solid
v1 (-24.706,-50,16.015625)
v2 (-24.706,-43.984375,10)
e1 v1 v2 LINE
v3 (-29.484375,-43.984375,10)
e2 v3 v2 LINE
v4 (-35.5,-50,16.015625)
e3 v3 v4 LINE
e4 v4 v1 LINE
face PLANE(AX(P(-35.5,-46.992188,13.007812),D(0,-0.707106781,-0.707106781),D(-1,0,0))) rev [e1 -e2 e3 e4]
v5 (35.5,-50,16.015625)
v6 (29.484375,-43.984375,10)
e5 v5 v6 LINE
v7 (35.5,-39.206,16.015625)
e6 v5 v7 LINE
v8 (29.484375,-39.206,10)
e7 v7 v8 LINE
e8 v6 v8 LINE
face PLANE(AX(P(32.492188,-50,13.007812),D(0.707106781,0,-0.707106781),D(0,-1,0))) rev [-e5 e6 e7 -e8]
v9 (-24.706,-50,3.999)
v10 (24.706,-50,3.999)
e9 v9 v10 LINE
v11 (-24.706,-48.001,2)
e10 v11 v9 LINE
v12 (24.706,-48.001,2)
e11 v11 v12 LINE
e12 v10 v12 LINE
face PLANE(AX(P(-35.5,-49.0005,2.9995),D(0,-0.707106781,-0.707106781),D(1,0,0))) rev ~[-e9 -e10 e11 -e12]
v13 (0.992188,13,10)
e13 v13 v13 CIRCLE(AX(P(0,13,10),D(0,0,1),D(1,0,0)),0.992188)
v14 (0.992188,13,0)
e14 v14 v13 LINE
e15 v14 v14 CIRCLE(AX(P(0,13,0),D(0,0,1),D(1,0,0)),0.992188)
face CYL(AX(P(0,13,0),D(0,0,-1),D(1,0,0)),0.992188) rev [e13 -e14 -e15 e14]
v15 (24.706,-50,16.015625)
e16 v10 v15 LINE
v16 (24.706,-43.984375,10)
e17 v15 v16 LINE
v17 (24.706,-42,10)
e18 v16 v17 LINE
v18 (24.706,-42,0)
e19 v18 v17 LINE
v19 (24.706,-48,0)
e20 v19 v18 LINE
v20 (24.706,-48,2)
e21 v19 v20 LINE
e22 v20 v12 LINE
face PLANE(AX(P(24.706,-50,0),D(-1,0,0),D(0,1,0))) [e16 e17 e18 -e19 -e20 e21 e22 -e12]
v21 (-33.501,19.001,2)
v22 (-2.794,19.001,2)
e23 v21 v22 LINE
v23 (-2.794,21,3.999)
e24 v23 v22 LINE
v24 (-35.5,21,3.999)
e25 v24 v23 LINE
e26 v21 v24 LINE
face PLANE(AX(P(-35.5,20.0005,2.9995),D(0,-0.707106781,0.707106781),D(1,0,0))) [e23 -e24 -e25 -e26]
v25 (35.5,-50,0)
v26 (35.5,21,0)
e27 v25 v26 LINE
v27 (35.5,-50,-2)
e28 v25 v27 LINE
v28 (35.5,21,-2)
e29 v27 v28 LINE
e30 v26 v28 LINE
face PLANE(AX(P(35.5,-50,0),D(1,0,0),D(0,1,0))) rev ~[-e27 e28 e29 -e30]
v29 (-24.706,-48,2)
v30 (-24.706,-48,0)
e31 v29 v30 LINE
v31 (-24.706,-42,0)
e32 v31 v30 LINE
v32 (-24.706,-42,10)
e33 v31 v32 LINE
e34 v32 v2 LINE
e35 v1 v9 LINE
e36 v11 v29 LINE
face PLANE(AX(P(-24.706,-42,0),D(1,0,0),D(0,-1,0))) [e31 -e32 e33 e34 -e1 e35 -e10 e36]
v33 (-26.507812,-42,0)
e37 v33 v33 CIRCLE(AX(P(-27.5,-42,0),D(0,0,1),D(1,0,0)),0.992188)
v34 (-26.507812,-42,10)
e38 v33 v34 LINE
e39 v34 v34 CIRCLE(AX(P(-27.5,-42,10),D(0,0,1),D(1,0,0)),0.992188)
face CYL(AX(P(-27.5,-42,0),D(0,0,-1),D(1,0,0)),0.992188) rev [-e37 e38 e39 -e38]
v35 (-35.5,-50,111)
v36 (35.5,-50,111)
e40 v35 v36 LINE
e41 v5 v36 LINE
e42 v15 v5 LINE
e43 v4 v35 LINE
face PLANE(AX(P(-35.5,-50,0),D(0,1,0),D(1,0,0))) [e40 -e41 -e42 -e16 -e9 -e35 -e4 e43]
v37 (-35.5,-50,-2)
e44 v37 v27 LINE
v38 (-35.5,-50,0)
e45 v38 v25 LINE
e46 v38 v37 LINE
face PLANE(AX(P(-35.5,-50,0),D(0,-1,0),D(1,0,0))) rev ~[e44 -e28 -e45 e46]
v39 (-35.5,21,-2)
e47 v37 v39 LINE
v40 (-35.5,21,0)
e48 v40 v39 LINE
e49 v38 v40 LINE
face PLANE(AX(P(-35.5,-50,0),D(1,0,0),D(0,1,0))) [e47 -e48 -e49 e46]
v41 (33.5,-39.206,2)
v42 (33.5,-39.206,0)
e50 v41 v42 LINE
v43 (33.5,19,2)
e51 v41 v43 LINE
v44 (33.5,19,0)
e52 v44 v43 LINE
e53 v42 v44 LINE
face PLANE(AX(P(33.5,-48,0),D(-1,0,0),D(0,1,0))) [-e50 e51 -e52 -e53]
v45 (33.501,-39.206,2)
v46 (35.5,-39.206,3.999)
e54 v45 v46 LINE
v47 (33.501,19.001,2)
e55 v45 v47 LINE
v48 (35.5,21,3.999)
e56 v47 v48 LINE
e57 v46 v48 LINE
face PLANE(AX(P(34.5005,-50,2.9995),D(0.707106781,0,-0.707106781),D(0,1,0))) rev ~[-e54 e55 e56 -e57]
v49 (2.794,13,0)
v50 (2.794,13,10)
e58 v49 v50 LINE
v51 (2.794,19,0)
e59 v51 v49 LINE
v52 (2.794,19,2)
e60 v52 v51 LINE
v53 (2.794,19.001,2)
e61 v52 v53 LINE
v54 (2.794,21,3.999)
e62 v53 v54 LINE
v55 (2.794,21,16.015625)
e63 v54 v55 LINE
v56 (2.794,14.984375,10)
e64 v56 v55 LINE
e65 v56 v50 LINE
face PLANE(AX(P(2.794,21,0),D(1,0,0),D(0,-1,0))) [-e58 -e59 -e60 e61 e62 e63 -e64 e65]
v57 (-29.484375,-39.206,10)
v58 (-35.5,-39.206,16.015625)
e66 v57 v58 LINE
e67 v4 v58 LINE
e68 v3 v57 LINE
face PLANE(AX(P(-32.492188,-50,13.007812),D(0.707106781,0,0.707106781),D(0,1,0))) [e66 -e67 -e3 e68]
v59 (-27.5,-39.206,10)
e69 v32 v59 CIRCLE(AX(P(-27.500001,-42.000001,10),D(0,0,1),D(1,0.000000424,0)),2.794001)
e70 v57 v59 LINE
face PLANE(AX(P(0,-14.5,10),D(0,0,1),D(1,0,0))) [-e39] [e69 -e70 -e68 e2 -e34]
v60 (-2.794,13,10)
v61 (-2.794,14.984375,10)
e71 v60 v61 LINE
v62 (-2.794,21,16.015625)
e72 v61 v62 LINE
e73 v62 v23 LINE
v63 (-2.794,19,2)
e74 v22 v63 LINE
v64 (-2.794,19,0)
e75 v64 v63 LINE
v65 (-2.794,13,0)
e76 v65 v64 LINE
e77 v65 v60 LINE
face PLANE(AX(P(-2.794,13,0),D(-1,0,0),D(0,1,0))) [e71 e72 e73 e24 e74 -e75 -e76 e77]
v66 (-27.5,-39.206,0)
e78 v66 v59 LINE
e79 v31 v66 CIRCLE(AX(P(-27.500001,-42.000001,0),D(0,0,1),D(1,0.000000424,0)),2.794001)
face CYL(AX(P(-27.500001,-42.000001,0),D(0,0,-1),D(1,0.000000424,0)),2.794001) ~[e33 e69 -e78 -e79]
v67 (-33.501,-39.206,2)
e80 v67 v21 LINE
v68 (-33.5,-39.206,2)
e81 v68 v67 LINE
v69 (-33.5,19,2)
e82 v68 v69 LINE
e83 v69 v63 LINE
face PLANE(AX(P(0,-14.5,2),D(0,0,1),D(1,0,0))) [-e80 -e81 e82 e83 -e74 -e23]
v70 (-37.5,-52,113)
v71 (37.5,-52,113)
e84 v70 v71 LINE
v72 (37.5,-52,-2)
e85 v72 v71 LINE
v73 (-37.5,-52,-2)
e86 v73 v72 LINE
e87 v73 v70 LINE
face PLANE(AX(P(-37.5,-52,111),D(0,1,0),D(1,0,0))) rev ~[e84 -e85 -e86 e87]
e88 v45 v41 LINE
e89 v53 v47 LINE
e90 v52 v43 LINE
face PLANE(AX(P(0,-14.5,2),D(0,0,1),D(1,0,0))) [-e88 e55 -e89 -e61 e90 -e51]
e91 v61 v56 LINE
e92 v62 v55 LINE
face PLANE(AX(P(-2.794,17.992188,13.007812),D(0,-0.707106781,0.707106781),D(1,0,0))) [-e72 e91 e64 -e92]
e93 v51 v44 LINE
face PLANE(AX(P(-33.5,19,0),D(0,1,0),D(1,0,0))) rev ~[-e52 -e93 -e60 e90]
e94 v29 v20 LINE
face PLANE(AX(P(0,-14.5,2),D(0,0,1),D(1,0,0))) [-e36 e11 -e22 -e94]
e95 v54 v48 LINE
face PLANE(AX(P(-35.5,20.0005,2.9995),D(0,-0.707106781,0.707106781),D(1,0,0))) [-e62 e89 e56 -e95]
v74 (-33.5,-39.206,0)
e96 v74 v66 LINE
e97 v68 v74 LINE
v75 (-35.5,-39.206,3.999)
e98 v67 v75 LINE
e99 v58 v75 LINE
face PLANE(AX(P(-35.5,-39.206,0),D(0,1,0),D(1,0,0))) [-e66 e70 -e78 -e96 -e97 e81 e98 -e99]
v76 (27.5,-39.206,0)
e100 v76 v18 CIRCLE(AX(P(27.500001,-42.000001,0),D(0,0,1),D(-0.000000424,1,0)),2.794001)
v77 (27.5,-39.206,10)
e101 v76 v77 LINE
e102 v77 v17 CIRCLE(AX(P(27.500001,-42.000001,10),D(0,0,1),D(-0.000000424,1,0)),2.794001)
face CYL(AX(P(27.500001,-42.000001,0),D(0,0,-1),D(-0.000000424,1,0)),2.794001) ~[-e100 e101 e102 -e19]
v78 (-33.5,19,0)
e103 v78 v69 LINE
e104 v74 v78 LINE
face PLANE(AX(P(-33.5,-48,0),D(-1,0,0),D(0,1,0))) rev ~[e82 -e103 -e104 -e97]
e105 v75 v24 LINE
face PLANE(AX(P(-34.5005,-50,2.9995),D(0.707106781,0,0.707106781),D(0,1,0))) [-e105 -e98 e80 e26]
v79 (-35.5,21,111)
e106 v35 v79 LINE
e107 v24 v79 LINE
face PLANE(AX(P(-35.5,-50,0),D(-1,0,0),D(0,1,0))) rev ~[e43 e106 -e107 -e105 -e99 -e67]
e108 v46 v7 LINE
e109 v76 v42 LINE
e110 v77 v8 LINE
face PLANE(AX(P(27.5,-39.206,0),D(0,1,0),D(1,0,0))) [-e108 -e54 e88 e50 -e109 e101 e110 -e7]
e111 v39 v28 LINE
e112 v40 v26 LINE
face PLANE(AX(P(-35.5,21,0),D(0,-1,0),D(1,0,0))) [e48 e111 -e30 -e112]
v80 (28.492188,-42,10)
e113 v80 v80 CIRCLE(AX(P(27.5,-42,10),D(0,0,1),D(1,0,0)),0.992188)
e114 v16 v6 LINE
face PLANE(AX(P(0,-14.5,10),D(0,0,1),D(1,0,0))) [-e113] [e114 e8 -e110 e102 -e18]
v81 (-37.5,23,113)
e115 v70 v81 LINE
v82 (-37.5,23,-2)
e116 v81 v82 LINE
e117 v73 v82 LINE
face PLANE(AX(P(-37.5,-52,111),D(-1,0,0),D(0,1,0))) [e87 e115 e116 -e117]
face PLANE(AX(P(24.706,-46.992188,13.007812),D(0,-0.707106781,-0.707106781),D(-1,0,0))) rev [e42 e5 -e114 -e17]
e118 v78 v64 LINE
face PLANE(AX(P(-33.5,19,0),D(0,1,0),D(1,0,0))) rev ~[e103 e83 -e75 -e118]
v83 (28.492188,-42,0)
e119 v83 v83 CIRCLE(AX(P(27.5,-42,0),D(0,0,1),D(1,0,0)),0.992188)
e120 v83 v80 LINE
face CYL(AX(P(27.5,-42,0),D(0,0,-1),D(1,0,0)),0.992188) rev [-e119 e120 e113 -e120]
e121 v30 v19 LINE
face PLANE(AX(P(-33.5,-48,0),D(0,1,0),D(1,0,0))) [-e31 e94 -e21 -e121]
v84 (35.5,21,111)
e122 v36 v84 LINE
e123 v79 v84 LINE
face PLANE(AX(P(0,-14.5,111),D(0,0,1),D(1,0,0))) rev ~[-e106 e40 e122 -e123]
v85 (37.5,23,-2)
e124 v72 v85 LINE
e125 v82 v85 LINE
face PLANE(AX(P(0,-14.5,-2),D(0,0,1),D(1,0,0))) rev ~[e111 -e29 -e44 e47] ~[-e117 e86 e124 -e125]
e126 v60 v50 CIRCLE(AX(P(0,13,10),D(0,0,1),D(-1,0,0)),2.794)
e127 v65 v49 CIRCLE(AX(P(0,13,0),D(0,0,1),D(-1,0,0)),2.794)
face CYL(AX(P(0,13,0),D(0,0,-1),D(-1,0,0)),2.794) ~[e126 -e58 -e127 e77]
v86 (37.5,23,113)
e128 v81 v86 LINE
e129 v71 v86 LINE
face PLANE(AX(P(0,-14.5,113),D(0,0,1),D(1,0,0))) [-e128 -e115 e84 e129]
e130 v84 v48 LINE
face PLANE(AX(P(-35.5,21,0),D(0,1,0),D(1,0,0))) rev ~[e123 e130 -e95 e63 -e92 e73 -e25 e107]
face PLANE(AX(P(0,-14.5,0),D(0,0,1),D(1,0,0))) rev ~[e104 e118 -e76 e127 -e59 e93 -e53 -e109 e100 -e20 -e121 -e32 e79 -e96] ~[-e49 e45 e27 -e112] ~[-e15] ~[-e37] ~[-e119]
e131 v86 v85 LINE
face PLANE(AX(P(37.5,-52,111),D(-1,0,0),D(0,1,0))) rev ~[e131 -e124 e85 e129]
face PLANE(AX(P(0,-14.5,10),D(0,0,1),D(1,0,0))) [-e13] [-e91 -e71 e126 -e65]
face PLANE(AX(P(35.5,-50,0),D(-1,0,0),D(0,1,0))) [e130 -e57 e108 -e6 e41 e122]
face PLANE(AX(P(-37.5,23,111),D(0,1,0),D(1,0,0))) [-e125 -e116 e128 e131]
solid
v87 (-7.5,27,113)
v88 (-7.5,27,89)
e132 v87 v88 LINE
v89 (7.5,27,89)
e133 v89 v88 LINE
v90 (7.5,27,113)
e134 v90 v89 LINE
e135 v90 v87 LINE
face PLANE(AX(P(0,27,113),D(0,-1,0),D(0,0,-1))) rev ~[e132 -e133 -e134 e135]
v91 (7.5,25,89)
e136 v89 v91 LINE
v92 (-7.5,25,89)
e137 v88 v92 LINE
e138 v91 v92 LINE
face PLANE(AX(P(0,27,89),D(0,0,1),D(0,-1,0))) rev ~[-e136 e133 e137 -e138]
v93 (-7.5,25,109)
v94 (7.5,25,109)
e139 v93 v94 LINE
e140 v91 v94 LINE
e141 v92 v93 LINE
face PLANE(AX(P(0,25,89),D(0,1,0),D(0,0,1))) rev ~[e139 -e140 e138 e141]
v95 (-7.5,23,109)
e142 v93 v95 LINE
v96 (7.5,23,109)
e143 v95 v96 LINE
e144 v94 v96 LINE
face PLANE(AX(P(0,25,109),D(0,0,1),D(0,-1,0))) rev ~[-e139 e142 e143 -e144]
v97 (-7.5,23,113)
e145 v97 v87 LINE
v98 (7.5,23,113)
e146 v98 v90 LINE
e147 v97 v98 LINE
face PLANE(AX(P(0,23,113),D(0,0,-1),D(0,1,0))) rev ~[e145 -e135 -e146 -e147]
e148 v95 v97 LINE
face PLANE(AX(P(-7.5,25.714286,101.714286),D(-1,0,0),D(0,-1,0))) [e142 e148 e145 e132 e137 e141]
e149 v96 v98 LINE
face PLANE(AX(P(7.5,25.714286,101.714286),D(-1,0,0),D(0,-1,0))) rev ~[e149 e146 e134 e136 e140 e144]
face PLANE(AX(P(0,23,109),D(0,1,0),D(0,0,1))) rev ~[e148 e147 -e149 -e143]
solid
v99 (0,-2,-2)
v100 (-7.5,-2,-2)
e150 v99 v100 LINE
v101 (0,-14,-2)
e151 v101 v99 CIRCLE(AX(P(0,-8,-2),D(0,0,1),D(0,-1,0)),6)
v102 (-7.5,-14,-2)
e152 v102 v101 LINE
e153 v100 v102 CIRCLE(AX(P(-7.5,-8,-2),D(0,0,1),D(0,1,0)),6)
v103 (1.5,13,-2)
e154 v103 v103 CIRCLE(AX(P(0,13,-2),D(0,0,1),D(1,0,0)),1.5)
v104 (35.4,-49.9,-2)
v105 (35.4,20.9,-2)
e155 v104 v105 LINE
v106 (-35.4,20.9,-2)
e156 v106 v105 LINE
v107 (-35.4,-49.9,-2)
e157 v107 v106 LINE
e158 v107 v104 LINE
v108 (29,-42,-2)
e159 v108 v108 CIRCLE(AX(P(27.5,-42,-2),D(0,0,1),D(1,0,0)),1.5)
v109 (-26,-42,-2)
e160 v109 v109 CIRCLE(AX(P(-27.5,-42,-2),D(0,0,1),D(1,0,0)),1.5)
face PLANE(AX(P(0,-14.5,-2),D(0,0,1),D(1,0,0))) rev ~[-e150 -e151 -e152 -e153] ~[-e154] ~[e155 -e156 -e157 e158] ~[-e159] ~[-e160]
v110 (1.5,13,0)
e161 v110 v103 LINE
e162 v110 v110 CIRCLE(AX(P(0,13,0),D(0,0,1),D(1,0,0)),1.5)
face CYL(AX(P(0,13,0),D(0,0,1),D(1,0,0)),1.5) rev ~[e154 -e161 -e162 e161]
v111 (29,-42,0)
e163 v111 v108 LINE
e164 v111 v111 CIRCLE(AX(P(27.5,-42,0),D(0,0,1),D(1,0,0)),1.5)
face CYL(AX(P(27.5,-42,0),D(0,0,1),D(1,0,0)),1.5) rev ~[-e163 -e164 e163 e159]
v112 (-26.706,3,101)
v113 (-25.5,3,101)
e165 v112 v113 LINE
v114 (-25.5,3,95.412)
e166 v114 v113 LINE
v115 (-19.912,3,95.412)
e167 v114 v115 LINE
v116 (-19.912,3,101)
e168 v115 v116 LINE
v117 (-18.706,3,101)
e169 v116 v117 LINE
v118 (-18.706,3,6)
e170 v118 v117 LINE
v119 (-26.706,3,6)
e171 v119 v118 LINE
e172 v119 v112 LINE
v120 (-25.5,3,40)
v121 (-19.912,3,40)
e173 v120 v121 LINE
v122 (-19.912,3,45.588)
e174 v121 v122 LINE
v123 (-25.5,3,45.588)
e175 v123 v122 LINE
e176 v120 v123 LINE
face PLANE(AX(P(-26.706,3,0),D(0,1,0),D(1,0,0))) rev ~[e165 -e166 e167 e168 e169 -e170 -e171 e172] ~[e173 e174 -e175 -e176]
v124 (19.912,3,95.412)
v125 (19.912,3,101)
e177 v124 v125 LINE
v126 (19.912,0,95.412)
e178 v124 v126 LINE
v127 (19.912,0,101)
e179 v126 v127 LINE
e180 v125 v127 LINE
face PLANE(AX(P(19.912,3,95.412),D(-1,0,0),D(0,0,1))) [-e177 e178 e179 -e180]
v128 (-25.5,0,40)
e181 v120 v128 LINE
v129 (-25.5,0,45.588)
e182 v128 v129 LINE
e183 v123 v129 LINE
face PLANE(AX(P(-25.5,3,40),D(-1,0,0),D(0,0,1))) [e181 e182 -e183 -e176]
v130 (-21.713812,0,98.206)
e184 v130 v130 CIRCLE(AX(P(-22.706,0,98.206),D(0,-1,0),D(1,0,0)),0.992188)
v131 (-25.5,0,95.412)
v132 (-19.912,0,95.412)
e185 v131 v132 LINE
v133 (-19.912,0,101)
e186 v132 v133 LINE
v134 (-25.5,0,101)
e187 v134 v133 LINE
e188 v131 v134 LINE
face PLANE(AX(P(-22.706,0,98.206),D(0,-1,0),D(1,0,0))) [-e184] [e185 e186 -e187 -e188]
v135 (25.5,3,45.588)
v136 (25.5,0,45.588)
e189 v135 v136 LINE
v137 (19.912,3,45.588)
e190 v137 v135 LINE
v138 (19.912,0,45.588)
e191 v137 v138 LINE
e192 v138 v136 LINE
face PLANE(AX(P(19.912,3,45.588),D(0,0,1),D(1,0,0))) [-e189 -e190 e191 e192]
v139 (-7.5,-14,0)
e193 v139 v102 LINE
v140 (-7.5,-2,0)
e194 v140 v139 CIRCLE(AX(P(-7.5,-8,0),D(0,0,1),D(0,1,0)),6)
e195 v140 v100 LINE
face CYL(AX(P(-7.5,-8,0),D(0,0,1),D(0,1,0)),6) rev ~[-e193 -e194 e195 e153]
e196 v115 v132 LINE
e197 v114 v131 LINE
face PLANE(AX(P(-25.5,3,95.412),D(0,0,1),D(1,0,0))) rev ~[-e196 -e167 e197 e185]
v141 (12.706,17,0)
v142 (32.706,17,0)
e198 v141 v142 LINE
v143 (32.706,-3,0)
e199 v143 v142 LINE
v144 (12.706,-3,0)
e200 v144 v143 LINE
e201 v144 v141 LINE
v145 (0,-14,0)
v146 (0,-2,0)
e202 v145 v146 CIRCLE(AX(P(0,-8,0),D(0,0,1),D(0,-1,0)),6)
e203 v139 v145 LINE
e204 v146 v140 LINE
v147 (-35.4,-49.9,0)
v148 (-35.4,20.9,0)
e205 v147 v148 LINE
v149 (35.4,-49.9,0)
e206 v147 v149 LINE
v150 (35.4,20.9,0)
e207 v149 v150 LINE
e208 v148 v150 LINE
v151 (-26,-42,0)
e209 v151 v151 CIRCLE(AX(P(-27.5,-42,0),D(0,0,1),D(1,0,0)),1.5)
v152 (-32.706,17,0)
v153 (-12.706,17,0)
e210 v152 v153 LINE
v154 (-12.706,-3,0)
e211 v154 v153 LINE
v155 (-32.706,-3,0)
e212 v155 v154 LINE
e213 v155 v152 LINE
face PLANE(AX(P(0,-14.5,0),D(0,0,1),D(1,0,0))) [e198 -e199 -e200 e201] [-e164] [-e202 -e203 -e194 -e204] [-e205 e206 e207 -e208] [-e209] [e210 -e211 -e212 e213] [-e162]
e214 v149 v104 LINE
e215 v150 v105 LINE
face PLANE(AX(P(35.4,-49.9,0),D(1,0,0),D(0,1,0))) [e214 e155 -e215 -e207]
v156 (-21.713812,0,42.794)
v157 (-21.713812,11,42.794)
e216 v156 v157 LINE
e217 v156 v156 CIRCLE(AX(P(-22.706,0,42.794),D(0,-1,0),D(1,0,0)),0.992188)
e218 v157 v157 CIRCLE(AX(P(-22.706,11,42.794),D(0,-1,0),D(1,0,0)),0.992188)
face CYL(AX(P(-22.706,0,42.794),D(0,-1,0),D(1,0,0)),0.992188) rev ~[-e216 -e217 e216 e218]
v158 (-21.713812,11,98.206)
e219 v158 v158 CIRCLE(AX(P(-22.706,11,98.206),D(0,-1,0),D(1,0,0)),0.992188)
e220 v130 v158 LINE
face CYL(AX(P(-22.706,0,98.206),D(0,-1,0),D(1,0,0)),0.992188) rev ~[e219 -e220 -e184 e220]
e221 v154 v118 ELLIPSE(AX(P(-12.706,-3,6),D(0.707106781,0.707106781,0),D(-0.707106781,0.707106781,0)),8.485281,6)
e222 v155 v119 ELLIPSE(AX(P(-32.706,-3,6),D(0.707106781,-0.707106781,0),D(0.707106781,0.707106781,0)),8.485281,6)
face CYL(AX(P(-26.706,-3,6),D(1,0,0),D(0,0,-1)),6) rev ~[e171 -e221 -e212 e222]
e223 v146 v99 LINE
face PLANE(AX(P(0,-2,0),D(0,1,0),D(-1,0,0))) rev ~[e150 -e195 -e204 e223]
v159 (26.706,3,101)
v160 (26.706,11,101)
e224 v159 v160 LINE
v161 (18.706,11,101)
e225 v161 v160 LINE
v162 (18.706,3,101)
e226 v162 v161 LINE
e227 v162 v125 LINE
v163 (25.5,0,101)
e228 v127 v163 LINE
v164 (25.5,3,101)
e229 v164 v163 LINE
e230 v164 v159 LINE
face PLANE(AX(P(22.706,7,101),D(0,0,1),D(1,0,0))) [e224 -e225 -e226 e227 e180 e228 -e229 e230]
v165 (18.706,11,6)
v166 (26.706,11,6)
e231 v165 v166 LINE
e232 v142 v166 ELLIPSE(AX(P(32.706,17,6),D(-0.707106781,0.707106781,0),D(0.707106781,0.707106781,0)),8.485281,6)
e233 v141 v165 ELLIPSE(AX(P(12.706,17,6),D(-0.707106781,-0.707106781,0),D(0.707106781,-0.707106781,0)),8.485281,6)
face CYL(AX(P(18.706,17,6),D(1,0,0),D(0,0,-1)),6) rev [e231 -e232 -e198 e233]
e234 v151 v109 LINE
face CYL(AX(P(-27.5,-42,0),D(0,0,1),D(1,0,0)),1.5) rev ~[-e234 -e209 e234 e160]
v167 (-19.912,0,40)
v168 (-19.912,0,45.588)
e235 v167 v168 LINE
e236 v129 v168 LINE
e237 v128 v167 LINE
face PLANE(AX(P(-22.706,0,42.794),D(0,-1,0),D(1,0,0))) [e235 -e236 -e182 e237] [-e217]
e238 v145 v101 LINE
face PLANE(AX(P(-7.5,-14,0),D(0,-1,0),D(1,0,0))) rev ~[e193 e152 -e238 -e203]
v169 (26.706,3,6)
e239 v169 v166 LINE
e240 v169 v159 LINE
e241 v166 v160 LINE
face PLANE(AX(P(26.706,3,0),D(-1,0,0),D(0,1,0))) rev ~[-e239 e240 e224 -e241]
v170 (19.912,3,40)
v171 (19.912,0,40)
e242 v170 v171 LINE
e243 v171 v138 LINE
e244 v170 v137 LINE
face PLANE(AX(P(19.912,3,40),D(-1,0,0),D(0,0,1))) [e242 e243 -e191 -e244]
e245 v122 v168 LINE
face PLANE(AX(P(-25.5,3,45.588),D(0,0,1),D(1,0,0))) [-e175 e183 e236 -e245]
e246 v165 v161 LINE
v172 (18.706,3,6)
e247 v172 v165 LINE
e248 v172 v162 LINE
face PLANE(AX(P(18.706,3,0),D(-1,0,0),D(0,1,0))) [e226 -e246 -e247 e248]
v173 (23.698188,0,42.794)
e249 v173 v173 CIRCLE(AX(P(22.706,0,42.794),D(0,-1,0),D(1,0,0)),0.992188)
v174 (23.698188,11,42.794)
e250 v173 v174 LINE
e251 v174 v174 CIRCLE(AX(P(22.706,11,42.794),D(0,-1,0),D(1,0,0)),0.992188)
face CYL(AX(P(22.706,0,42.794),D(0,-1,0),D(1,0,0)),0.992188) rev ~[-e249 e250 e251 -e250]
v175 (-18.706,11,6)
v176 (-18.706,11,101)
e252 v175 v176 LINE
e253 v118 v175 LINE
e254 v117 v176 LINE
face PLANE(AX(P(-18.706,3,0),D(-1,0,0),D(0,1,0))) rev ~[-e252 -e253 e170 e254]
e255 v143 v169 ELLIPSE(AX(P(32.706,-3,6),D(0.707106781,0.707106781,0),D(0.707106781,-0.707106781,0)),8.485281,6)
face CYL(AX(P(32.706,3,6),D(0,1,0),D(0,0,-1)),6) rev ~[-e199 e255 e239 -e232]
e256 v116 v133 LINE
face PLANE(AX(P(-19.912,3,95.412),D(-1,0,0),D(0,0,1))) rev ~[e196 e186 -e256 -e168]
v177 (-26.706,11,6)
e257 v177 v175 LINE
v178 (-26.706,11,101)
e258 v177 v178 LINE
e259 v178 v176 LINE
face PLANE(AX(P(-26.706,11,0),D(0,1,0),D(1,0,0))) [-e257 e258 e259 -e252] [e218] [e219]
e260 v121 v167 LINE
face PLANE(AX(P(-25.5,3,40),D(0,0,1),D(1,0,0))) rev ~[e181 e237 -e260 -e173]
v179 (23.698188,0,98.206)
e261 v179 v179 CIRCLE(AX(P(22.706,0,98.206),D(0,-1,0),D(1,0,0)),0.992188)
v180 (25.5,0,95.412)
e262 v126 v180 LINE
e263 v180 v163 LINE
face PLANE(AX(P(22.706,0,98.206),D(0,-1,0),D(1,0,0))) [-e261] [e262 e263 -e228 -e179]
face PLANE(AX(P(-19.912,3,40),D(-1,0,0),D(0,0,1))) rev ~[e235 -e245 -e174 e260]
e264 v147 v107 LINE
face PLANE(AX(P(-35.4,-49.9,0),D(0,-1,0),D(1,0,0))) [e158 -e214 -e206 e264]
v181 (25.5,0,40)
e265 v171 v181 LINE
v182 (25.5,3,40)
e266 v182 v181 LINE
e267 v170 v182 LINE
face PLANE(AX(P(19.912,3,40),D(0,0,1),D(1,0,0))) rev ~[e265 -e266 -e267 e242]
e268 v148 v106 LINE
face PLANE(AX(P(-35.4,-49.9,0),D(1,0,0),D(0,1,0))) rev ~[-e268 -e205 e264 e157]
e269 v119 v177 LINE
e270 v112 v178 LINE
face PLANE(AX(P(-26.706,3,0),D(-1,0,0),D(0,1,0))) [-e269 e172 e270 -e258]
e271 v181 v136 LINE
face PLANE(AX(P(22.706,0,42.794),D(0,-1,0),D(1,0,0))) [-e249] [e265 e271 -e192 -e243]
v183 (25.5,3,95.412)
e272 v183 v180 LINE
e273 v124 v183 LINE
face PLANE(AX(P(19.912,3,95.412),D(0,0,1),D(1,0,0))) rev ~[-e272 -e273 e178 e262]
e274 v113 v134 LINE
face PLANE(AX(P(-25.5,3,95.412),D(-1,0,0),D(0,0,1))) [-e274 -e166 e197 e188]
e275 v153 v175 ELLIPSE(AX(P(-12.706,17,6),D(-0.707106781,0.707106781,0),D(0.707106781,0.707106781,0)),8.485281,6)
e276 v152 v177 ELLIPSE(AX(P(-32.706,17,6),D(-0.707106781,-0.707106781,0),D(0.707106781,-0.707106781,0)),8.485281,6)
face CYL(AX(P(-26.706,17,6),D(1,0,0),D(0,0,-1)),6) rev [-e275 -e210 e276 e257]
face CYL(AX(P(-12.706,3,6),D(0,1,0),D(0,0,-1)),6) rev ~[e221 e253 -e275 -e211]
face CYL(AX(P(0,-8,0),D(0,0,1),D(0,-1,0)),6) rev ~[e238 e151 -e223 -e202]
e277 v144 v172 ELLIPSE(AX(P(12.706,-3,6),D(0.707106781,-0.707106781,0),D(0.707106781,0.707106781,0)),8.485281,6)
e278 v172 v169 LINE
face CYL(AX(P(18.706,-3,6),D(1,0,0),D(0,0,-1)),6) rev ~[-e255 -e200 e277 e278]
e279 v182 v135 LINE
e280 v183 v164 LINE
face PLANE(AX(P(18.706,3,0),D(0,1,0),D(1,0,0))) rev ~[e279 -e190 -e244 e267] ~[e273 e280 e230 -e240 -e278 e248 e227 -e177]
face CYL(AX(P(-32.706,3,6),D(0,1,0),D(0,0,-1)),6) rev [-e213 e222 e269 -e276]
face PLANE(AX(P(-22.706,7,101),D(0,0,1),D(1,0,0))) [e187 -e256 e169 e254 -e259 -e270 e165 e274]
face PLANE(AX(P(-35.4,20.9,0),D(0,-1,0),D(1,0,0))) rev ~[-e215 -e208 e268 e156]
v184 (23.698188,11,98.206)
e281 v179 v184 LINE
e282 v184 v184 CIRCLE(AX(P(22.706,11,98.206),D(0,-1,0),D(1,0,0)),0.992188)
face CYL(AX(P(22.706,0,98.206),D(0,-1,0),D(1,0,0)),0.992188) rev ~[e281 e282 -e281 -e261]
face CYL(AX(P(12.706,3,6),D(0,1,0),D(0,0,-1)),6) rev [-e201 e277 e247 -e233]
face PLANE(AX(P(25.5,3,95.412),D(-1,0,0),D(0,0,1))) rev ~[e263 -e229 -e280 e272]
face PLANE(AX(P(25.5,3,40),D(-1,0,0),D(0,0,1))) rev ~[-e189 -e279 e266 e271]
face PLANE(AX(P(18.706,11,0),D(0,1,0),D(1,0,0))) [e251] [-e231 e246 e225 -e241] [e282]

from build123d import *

# Parameters (mm, degrees)
SKETCH_W        = 70.8
SKETCH_H        = 70.8
PAD_DEPTH       = 2
POCKET_DEPTH    = 2
SKETCH002_W     = 8
SKETCH002_H     = 8
PAD001_DEPTH    = 101
SKETCH003_W     = 5.588
SKETCH003_H     = 5.588
PAD002_DEPTH    = 3
SKETCH004_R     = 0.992188
POCKET001_DEPTH = 20.901
FILLET_R        = 6
SKETCH005_R     = 1.5
POCKET002_DEPTH = 2
SKETCH006_W     = 75
SKETCH006_H     = 75
SKETCH006_W_2   = 71
SKETCH006_H_2   = 71
PAD003_DEPTH    = 111
SKETCH008_W     = 71
SKETCH008_H     = 71
SKETCH008_W_2   = 67
SKETCH008_H_2   = 67
PAD005_DEPTH    = 2
CHAMFER_SIZE    = 1.999
SKETCH009_W     = 75
SKETCH009_H     = 75
SKETCH009_R     = 0.992188
PAD006_DEPTH    = 10
CHAMFER001_SIZE = 6.015625
SKETCH010_W     = 75
SKETCH010_H     = 75
SKETCH010_W_2   = 71
SKETCH010_H_2   = 71
PAD007_DEPTH    = 2
SKETCH007_W     = 75
SKETCH007_H     = 75
PAD004_DEPTH    = 2
PAD008_DEPTH    = 7.5


with BuildPart() as body:
    # Sketch → Pad (new body)
    with BuildSketch(Plane.XY):
        with Locations((0, -14.5)):
            Rectangle(SKETCH_W, SKETCH_H)
    extrude(amount=-PAD_DEPTH)

    # Sketch001 → Pocket (cut)
    with BuildSketch(Plane.XY):
        with BuildLine():
            ThreePointArc((0, -14), (6, -8), (0, -2))
            Line((0, -2), (-7.5, -2))
            ThreePointArc((-7.5, -2), (-13.5, -8), (-7.5, -14))
            Line((-7.5, -14), (0, -14))
        make_face()
    extrude(amount=-POCKET_DEPTH, mode=Mode.SUBTRACT)

    # Sketch002 → Pad001 (join)
    with BuildSketch(Plane.XY):
        with Locations((22.706, 7)):
            Rectangle(SKETCH002_W, SKETCH002_H)
        with Locations((-22.706, 7)):
            Rectangle(SKETCH002_W, SKETCH002_H)
    extrude(amount=PAD001_DEPTH)

    # Sketch003 (on Face15 of Pad001) → Pad002 (join)
    with BuildSketch(Plane.XZ.offset(-3)):
        with Locations((22.706, 98.206)):
            Rectangle(SKETCH003_W, SKETCH003_H)
        with Locations((-22.706, 98.206)):
            Rectangle(SKETCH003_W, SKETCH003_H)
        with Locations((-22.706, 42.794)):
            Rectangle(SKETCH003_W, SKETCH003_H)
        with Locations((22.706, 42.794)):
            Rectangle(SKETCH003_W, SKETCH003_H)
    extrude(amount=PAD002_DEPTH)

    # Sketch004 (on Face40 of Pad002) → Pocket001 (cut, through all)
    with BuildSketch(Plane.XZ):
        with Locations((22.706, 98.206)):
            Circle(SKETCH004_R)
        with Locations((-22.706, 98.206)):
            Circle(SKETCH004_R)
        with Locations((-22.706, 42.794)):
            Circle(SKETCH004_R)
        with Locations((22.706, 42.794)):
            Circle(SKETCH004_R)
    extrude(amount=-POCKET001_DEPTH, mode=Mode.SUBTRACT)

    # Fillet
    fillet_edges = [body.edges().sort_by_distance(p)[0] for p in [
        (22.706, 3, 0),
        (26.706, 7, 0),
        (22.706, 11, 0),
        (18.706, 7, 0),
        (-22.706, 11, 0),
        (-26.706, 7, 0),
        (-18.706, 7, 0),
        (-22.706, 3, 0),
    ]]
    fillet(fillet_edges, radius=FILLET_R)

    # Sketch005 → Pocket002 (cut)
    with BuildSketch(Plane.XY):
        with Locations((27.5, -42)):
            Circle(SKETCH005_R)
        with Locations((-27.5, -42)):
            Circle(SKETCH005_R)
        with Locations((0, 13)):
            Circle(SKETCH005_R)
    extrude(amount=-POCKET002_DEPTH, mode=Mode.SUBTRACT)


with BuildPart() as body001:
    # Sketch006 → Pad003 (new body)
    with BuildSketch(Plane.XY):
        with Locations((0, -14.5)):
            Rectangle(SKETCH006_W, SKETCH006_H)
        with Locations((0, -14.5)):
            Rectangle(SKETCH006_W_2, SKETCH006_H_2, mode=Mode.SUBTRACT)
    extrude(amount=PAD003_DEPTH)

    # Sketch008 → Pad005 (join)
    with BuildSketch(Plane.XY):
        with Locations((0, -14.5)):
            Rectangle(SKETCH008_W, SKETCH008_H)
        with Locations((0, -14.5)):
            Rectangle(SKETCH008_W_2, SKETCH008_H_2, mode=Mode.SUBTRACT)
    extrude(amount=PAD005_DEPTH)

    # Chamfer
    chamfer_edges = [body001.edges().sort_by_distance(p)[0] for p in [
        (0, -50, 2),
        (35.5, -14.5, 2),
        (-35.5, -14.5, 2),
        (0, 21, 2),
    ]]
    chamfer(chamfer_edges, length=CHAMFER_SIZE)

    # Sketch009 → Pad006 (join)
    with BuildSketch(Plane.XY):
        with Locations((0, -14.5)):
            Rectangle(SKETCH009_W, SKETCH009_H)
        with Locations((0, 13)):
            Circle(SKETCH009_R, mode=Mode.SUBTRACT)
        with Locations((27.5, -42)):
            Circle(SKETCH009_R, mode=Mode.SUBTRACT)
        with Locations((-27.5, -42)):
            Circle(SKETCH009_R, mode=Mode.SUBTRACT)
        with BuildLine():
            ThreePointArc((27.5, -39.206), (25.524344, -40.024344), (24.706, -42))
            Line((24.706, -50), (24.706, -42))
            Line((-24.706, -50), (24.706, -50))
            Line((-24.706, -42), (-24.706, -50))
            ThreePointArc((-24.706, -42), (-25.524344, -40.024344), (-27.5, -39.206))
            Line((-35.5, -39.206), (-27.5, -39.206))
            Line((-35.5, 21), (-35.5, -39.206))
            Line((-2.794, 21), (-35.5, 21))
            Line((-2.794, 13), (-2.794, 21))
            ThreePointArc((-2.794, 13), (0, 10.206), (2.794, 13))
            Line((2.794, 21), (2.794, 13))
            Line((35.5, 21), (2.794, 21))
            Line((35.5, -39.206), (35.5, 21))
            Line((27.5, -39.206), (35.5, -39.206))
        make_face(mode=Mode.SUBTRACT)
    extrude(amount=PAD006_DEPTH)

    # Chamfer001
    chamfer001_edges = [body001.edges().sort_by_distance(p)[0] for p in [
        (-35.5, -44.603, 10),
        (-30.103, -50, 10),
        (35.5, -44.603, 10),
        (30.103, -50, 10),
        (0, 21, 10),
    ]]
    chamfer(chamfer001_edges, length=CHAMFER001_SIZE)

    # Sketch010 → Pad007 (join)
    with BuildSketch(Plane.XY):
        with Locations((0, -14.5)):
            Rectangle(SKETCH010_W, SKETCH010_H)
        with Locations((0, -14.5)):
            Rectangle(SKETCH010_W_2, SKETCH010_H_2, mode=Mode.SUBTRACT)
    extrude(amount=-PAD007_DEPTH)

    # Sketch007 (on Face10 of Pad003) → Pad004 (join)
    with BuildSketch(Plane.XY.offset(111)):
        with Locations((0, -14.5)):
            Rectangle(SKETCH007_W, SKETCH007_H)
    extrude(amount=PAD004_DEPTH)


with BuildPart() as body002:
    # Sketch011 → Pad008 (new body, symmetric)
    with BuildSketch(Plane.YZ):
        Polygon((23, 113), (27, 113), (27, 89), (25, 89), (25, 109), (23, 109), align=None)
    extrude(amount=PAD008_DEPTH, both=True)


solid = Compound([body.part, body001.part, body002.part])
